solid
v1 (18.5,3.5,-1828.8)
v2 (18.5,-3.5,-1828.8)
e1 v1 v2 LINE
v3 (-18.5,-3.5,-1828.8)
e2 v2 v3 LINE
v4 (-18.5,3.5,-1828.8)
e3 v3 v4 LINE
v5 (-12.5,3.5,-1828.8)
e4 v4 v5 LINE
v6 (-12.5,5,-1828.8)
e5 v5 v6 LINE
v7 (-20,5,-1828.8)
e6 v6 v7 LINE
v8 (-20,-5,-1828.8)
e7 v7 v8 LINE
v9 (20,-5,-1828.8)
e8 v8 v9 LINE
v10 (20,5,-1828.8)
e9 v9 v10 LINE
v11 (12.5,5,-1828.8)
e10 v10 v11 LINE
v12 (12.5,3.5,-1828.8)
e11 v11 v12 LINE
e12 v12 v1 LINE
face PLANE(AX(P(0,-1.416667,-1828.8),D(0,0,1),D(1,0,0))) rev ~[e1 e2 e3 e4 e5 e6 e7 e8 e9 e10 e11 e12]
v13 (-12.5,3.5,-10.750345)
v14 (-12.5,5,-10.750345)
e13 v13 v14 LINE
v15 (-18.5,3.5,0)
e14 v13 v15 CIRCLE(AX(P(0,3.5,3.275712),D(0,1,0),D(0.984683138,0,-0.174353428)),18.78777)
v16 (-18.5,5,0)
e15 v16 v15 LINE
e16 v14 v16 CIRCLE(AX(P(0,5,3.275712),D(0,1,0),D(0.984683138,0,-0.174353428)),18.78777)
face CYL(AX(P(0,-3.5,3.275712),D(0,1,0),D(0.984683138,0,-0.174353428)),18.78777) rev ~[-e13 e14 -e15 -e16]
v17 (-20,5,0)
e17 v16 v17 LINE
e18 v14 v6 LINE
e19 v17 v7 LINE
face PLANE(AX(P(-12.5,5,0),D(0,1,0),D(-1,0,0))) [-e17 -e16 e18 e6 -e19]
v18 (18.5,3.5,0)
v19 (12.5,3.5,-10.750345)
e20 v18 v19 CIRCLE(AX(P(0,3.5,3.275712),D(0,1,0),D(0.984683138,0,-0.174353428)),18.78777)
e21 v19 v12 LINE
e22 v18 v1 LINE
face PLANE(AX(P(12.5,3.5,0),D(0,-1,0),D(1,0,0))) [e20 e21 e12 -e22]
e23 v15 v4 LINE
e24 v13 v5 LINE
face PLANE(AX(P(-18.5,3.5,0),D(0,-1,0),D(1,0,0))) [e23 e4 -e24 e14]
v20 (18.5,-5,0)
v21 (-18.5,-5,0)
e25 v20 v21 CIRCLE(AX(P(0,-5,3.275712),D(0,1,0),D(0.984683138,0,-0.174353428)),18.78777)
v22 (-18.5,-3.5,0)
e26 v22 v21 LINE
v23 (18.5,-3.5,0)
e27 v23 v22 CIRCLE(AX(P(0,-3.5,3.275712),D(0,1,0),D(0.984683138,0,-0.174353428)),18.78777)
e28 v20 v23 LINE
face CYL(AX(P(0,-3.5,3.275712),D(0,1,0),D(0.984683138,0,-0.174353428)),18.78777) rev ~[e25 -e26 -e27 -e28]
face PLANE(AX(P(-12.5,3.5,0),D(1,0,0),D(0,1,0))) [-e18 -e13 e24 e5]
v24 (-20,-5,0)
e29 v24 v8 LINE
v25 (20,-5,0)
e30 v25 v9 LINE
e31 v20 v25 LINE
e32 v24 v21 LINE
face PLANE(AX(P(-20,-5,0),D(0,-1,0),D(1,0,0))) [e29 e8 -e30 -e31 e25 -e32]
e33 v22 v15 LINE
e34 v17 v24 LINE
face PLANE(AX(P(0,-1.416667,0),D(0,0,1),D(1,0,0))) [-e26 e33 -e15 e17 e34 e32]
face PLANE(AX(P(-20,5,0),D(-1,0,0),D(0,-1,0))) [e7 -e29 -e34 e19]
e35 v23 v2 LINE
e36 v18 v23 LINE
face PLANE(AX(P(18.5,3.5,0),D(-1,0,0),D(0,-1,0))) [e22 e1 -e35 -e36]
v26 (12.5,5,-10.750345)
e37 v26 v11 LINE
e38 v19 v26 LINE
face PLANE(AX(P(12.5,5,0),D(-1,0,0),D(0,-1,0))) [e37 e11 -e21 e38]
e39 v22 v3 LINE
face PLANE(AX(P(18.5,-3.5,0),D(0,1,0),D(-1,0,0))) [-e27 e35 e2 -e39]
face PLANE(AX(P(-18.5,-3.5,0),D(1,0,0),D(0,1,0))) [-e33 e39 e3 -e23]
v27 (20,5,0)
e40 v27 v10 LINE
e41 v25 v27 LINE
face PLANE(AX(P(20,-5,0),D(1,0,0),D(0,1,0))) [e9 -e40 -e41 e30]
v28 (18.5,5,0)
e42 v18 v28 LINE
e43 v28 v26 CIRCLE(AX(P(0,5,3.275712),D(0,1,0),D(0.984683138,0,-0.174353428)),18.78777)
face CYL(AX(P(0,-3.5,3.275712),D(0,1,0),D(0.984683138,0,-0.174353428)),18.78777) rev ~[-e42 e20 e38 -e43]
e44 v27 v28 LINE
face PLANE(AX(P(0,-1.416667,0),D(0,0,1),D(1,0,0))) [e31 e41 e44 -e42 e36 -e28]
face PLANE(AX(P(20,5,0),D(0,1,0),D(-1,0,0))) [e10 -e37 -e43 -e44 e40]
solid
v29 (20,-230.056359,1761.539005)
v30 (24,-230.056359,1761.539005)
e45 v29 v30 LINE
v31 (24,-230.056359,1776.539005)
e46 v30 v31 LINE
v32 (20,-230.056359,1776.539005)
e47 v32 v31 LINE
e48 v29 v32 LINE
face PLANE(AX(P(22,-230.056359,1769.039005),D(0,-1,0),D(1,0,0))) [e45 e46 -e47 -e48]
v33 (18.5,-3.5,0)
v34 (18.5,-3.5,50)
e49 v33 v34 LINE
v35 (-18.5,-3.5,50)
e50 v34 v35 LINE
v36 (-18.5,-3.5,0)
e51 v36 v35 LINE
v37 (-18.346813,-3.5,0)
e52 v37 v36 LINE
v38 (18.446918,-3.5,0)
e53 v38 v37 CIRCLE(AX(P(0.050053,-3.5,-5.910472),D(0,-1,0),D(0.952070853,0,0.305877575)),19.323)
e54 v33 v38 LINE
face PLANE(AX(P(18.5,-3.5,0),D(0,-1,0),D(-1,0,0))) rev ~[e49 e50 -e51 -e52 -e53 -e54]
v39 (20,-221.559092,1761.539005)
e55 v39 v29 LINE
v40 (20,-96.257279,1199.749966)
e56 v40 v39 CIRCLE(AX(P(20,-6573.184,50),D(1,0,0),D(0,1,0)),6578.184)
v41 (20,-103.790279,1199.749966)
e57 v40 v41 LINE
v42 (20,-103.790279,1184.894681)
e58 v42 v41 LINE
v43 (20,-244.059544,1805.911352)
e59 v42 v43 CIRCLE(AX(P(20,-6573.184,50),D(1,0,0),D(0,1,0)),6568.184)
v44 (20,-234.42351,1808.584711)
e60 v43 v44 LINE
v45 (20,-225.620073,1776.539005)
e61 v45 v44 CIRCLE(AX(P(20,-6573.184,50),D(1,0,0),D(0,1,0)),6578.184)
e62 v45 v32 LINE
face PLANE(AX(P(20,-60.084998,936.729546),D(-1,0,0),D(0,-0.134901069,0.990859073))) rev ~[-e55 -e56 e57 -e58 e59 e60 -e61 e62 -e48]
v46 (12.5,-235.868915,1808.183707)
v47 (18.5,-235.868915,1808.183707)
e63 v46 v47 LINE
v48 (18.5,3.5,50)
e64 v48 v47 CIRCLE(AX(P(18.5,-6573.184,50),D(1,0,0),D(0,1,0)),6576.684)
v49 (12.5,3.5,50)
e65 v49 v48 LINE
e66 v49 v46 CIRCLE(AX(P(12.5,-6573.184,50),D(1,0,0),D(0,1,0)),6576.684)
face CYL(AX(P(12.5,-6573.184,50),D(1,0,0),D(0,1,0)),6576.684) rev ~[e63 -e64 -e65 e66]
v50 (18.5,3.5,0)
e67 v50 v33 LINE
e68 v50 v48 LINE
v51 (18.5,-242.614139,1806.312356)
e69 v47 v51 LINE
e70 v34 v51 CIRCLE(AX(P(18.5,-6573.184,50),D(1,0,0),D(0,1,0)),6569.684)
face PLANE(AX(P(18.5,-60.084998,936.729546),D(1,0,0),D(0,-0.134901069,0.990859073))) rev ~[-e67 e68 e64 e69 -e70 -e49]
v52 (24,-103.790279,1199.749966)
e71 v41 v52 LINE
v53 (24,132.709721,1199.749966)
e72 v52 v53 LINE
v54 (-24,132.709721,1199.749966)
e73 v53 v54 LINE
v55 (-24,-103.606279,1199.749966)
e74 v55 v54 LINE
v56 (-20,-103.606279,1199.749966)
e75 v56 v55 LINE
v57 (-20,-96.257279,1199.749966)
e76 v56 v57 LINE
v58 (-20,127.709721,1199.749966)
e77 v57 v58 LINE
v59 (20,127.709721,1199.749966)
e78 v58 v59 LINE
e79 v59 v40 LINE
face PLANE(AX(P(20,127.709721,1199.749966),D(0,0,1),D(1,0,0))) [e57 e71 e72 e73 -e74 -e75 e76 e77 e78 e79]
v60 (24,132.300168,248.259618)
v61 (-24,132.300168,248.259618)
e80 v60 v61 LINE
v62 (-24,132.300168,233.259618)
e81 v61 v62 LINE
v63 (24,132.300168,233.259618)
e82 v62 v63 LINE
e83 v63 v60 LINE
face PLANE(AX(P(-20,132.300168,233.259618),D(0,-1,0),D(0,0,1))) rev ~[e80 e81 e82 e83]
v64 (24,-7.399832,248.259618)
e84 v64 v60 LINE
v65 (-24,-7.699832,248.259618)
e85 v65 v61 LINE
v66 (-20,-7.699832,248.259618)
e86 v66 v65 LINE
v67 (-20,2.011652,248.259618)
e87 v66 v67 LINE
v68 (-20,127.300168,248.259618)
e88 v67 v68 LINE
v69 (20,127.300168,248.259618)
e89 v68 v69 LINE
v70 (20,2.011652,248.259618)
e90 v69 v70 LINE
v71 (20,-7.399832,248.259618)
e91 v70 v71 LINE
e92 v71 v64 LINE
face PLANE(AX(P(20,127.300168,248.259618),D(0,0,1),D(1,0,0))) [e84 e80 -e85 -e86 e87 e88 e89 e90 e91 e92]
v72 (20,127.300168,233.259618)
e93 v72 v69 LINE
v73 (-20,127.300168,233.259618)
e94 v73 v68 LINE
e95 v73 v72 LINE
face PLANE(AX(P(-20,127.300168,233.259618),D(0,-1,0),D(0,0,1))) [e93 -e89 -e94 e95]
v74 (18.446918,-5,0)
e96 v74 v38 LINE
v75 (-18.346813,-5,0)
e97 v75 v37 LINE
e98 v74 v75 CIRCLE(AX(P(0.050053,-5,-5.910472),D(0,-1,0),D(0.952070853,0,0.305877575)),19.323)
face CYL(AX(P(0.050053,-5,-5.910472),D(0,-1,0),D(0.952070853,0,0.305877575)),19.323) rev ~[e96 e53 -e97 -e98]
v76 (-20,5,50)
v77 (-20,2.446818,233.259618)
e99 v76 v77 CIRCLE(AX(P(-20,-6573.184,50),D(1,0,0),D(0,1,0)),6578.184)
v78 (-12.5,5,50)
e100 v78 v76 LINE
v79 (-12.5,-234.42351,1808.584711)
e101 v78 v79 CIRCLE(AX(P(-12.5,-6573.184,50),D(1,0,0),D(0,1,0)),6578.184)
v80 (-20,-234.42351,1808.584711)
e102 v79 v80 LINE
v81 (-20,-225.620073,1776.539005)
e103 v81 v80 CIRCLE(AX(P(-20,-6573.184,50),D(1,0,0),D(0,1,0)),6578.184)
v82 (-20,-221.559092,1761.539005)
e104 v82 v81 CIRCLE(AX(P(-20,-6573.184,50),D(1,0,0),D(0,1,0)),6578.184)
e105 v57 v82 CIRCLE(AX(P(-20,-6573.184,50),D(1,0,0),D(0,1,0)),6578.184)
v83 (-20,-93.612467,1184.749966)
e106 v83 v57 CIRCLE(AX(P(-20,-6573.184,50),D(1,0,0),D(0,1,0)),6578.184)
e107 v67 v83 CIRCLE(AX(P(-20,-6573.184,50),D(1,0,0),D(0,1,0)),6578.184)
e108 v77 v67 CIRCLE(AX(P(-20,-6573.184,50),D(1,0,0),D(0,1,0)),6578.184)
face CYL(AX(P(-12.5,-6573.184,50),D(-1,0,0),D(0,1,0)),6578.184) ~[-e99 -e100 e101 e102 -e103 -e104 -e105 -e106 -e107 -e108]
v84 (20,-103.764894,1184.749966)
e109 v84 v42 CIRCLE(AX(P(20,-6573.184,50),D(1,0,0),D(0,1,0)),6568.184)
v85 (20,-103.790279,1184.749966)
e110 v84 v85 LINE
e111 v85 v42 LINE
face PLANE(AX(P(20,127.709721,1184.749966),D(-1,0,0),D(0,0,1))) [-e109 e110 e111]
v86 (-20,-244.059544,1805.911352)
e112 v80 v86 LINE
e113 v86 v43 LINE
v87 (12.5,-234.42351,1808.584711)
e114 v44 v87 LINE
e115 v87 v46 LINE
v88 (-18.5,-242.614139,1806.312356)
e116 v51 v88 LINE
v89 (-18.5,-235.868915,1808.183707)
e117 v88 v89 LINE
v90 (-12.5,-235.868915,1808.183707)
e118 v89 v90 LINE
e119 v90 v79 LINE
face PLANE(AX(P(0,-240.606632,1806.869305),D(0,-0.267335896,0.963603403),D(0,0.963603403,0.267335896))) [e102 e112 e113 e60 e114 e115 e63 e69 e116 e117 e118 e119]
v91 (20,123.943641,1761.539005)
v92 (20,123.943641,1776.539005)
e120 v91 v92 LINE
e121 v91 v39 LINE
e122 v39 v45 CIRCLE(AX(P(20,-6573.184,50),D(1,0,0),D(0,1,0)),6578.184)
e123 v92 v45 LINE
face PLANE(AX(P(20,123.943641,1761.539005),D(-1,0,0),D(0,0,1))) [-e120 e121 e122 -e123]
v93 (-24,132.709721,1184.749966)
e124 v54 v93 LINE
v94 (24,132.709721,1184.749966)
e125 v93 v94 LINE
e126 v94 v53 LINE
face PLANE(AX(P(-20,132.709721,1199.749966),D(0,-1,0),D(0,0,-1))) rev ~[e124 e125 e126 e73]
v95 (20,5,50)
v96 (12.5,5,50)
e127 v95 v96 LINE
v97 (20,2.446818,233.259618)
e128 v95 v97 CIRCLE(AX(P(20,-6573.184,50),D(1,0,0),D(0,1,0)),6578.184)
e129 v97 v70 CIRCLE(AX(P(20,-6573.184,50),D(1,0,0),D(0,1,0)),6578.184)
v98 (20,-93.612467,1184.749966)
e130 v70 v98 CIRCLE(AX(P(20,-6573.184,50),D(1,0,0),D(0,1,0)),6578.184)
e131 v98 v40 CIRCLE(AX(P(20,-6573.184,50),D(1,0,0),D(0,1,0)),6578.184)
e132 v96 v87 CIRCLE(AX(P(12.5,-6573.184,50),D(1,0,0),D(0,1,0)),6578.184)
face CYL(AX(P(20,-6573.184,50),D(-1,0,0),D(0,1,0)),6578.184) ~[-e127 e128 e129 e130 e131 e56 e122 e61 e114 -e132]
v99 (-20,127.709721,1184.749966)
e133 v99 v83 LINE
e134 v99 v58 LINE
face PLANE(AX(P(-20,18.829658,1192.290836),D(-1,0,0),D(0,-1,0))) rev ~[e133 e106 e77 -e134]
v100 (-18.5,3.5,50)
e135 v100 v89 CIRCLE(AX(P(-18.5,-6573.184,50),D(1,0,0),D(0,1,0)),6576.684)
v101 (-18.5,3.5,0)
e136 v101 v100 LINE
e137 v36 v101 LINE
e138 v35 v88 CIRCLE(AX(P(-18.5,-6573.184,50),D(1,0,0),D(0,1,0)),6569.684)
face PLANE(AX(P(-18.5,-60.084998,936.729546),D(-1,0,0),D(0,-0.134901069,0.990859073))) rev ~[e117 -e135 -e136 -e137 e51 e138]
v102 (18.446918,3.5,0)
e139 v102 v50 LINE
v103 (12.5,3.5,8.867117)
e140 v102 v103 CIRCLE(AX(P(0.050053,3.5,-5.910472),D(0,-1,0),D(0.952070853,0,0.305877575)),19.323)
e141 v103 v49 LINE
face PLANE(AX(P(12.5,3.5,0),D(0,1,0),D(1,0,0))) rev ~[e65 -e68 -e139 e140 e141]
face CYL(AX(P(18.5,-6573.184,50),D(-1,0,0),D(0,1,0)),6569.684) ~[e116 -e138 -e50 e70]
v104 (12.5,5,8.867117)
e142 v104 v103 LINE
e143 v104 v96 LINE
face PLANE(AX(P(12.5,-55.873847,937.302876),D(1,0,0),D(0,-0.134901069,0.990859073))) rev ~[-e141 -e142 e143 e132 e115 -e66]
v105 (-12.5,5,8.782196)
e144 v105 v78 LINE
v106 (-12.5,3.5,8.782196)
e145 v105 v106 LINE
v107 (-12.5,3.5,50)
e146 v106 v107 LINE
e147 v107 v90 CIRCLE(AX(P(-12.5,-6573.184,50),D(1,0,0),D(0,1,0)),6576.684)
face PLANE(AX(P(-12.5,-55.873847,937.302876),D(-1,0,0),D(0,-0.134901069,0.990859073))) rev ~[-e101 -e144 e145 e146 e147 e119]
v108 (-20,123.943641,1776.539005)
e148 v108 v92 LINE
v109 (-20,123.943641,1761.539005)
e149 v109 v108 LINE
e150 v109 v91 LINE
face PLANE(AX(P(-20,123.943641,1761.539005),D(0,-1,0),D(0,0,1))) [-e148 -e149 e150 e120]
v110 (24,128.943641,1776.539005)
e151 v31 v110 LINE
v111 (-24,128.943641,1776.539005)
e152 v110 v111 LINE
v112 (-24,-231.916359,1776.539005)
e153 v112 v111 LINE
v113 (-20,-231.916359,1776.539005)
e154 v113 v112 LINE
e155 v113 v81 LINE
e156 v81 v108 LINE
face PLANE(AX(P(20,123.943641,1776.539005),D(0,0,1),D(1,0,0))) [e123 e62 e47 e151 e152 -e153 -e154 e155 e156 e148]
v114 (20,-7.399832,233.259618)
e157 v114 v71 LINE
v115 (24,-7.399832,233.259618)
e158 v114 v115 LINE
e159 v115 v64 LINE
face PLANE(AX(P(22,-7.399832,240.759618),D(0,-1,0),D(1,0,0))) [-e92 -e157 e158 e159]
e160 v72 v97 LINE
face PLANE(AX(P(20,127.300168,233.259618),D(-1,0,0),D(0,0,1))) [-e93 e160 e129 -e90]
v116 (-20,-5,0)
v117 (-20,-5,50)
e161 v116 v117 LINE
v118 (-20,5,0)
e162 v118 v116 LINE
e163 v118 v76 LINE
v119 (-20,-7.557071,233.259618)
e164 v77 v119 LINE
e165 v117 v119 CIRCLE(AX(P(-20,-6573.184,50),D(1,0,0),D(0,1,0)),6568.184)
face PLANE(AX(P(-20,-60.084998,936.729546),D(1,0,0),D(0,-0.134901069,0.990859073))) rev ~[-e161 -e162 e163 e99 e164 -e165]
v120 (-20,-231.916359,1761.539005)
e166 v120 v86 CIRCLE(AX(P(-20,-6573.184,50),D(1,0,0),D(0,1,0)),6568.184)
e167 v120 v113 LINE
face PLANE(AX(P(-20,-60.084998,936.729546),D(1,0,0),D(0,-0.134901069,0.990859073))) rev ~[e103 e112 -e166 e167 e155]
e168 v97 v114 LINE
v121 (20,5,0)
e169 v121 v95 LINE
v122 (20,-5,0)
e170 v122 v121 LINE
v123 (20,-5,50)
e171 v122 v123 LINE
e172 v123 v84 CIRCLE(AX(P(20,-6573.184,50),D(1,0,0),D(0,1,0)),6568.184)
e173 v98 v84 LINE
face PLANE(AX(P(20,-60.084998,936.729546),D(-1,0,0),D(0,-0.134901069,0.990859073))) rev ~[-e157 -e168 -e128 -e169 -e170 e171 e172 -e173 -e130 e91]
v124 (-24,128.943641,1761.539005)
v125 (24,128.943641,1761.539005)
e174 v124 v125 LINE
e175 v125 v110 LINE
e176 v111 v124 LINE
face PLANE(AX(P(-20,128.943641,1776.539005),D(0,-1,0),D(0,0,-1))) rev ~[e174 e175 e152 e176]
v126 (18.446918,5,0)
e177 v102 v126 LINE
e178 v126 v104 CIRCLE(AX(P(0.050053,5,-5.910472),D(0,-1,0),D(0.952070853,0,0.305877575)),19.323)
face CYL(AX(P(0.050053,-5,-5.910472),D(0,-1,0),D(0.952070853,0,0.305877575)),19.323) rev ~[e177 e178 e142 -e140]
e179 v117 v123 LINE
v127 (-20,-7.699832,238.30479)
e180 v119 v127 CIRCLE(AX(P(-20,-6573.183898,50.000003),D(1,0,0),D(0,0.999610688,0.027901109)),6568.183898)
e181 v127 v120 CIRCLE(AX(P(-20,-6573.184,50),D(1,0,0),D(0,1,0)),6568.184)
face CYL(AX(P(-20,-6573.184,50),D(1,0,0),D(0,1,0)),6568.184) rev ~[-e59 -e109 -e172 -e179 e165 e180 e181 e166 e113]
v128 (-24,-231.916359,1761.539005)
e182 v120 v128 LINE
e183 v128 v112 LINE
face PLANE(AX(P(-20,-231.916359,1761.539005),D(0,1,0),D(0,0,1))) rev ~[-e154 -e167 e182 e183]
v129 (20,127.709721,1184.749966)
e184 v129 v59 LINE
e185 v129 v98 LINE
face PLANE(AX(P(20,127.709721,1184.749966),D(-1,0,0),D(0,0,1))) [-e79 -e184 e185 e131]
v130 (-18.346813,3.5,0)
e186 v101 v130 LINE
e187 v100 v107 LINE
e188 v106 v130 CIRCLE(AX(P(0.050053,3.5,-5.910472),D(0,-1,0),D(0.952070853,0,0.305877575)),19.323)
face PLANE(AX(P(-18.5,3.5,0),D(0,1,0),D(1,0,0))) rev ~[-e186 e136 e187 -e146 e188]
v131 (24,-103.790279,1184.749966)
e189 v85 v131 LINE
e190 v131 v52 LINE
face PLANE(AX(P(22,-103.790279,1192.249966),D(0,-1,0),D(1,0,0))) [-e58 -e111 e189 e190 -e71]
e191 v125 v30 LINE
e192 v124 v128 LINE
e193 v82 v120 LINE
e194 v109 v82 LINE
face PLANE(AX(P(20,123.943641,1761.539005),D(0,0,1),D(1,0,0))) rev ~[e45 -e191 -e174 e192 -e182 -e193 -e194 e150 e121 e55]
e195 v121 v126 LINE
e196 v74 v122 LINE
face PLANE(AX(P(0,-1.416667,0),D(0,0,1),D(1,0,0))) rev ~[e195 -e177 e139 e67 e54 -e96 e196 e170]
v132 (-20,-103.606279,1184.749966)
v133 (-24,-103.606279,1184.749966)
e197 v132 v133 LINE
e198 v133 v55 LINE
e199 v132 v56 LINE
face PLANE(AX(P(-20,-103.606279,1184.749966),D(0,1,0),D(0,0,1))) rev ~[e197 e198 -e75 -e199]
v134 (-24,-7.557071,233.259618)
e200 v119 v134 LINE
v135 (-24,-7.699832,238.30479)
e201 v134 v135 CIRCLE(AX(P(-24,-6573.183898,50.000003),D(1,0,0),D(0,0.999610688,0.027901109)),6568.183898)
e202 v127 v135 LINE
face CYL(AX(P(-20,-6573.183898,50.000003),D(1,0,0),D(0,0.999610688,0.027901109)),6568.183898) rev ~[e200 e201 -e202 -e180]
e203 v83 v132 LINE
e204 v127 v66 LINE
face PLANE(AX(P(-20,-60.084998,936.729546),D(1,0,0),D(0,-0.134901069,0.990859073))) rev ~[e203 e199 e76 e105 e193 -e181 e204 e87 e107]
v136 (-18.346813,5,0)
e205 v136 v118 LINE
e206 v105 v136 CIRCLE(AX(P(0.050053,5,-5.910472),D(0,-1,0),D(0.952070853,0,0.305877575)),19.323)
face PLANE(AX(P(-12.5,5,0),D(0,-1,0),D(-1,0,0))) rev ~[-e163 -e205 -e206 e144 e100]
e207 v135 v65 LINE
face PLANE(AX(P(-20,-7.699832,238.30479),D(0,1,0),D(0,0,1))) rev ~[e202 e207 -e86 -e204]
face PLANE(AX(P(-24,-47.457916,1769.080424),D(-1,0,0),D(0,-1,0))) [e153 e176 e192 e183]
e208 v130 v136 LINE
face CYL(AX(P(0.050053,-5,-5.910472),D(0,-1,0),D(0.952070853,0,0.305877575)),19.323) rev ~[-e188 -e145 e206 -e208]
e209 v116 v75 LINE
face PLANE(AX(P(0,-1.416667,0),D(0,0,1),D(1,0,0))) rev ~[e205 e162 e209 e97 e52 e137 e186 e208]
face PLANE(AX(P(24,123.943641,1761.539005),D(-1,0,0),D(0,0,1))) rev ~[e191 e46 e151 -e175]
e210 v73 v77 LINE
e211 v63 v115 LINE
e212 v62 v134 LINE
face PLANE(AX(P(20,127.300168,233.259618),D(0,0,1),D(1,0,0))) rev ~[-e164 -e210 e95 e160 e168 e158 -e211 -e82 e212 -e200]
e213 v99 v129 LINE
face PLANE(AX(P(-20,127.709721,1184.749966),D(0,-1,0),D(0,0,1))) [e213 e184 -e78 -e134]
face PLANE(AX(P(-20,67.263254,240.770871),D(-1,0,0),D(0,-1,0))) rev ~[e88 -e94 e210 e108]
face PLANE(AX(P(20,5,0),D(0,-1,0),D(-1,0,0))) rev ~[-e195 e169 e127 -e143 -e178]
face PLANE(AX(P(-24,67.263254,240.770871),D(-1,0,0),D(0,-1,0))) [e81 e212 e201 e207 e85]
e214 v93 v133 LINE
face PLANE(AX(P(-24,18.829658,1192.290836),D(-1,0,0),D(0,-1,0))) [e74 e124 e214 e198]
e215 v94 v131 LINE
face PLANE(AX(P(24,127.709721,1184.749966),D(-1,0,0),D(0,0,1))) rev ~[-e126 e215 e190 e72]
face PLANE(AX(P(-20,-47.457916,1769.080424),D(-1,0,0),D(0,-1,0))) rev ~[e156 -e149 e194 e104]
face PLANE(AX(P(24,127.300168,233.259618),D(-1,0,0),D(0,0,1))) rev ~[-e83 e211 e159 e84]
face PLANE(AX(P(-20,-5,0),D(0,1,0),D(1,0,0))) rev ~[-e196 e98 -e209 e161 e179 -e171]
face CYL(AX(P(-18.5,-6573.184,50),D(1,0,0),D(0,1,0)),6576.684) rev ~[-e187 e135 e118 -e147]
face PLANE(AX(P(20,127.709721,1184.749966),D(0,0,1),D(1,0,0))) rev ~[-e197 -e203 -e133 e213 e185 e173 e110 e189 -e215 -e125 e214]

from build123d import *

# Parameters (mm, degrees)
F1_DEPTH  = 1828.8
F3_DEPTH  = 12.5
F4_DEPTH  = 50
F8_DEPTH  = 25
F9_W      = 7.349
F9_H      = 15
F10_DEPTH = 4
F11_W     = 5
F11_H     = 15
F12_DEPTH = 44
F13_W     = 4
F13_H     = 15
F14_DEPTH = 354
F15_W     = 4
F15_H     = 15
F16_DEPTH = 134.7
F17_W     = 4
F17_H     = 15
F18_DEPTH = 231.5


with BuildPart() as f1:
    # F0 (on Top) → F1 (new body)
    with BuildSketch(Plane.XY):
        Polygon((-18.5, -3.5), (-18.5, 3.5), (-12.5, 3.5), (-12.5, 5), (-20, 5), (-20, -5), (20, -5), (20, 5), (12.5, 5), (12.5, 3.5), (18.5, 3.5), (18.5, -3.5), align=None)
    extrude(amount=-F1_DEPTH)

    # F2 (on face) → F3 (cut, symmetric)
    with BuildSketch(Plane(origin=(0, -3.5, 0), x_dir=(-1, 0, 0), z_dir=(0, 1, 0))):
        with BuildLine():
            Line((18.5, 0), (-18.5, 0))
            ThreePointArc((-18.5, 0), (0, -15.5120576256), (18.5, 0))
        make_face()
    extrude(amount=F3_DEPTH, both=True, mode=Mode.SUBTRACT)


with BuildPart() as f4:
    # F0 (on Top) → F4 (new body)
    with BuildSketch(Plane.XY):
        Polygon((-18.5, -3.5), (-18.5, 3.5), (-12.5, 3.5), (-12.5, 5), (-20, 5), (-20, -5), (20, -5), (20, 5), (12.5, 5), (12.5, 3.5), (18.5, 3.5), (18.5, -3.5), align=None)
    extrude(amount=F4_DEPTH)

    # F6: sweep along a path in F5
    with BuildLine(Plane.YZ.offset(20)) as f6_path:
        ThreePointArc((-5, 50), (-65.0392933555, 936.0550407457), (-244.0595437737, 1805.911351821))
    # F4_face1 (on face) → F6 (sweep)
    with BuildSketch(Plane(origin=(0, -1.5398550725, 50), x_dir=(1, 0, 0), z_dir=(0, 0, 1))):
        Polygon((-18.5, -1.9601449275), (-18.5, 5.0398550725), (-12.5, 5.0398550725), (-12.5, 6.5398550725), (-20, 6.5398550725), (-20, -3.4601449275), (20, -3.4601449275), (20, 6.5398550725), (12.5, 6.5398550725), (12.5, 5.0398550725), (18.5, 5.0398550725), (18.5, -1.9601449275), align=None)
    sweep(path=f6_path.line)

    # F7 (on face) → F8 (cut)
    with BuildSketch(Plane.XZ.offset(5)):
        with BuildLine():
            Line((-18.3468125761, 0), (18.4469176068, 0))
            ThreePointArc((18.4469176068, 0), (0.0500525154, 13.4125276155), (-18.3468125761, 0))
        make_face()
    extrude(amount=-F8_DEPTH, mode=Mode.SUBTRACT)

    # F9 (on face) → F10 (join)
    with BuildSketch(Plane(origin=(-20, 0, 0), x_dir=(0, -1, 0), z_dir=(-1, 0, 0))):
        with BuildLine():
            ThreePointArc((-2.4468176602, 233.2596182823), (-2.2335121088, 240.7597423711), (-2.0116519646, 248.2596182823))
            Line((-2.0116519646, 248.2596182823), (-132.3001682758, 248.2596182823))
            Line((-132.3001682758, 248.2596182823), (-132.3001682758, 233.2596182823))
            Line((-132.3001682758, 233.2596182823), (-2.4468176602, 233.2596182823))
        make_face()
        with BuildLine():
            Line((-132.7097213071, 1184.7499661554), (93.6124669304, 1184.7499661554))
            ThreePointArc((93.6124669304, 1184.7499661555), (94.9305313623, 1192.2507316432), (96.2572786929, 1199.7499661554))
            Line((96.2572786929, 1199.7499661554), (-132.7097213071, 1199.7499661554))
            Line((-132.7097213071, 1199.7499661554), (-132.7097213071, 1184.7499661554))
        make_face()
        with BuildLine():
            Line((-128.9436408437, 1761.5390048271), (221.5590919303, 1761.5390048271))
            ThreePointArc((221.5590919303, 1761.5390048271), (223.5851532345, 1769.040204012), (225.6200733691, 1776.5390048272))
            Line((225.6200733691, 1776.5390048271), (-128.9436408437, 1776.5390048271))
            Line((-128.9436408437, 1776.5390048271), (-128.9436408437, 1761.5390048271))
        make_face()
        with BuildLine():
            Line((7.6998317242, 238.3047901022), (7.6998317242, 248.2596182823))
            Line((7.6998317242, 248.2596182823), (-2.0116519646, 248.2596182823))
            ThreePointArc((-2.0116519646, 248.2596182823), (-2.2335121088, 240.7597423711), (-2.4468176602, 233.2596182823))
            Line((-2.4468176602, 233.2596182823), (7.5570710493, 233.2596182823))
            ThreePointArc((7.5570710493, 233.2596182823), (7.6279667789, 235.782217905), (7.6998317242, 238.3047901022))
        make_face()
        with BuildLine():
            ThreePointArc((96.2572786929, 1199.7499661554), (94.9305313623, 1192.2507316432), (93.6124669304, 1184.7499661555))
            Line((93.6124669304, 1184.7499661554), (96.2572786929, 1184.7499661554))
            Line((96.2572786929, 1184.7499661554), (96.2572786929, 1199.7499661554))
        make_face()
        with BuildLine():
            Line((221.5590919303, 1761.5390048271), (231.9163591563, 1761.5390048271))
            Line((231.9163591563, 1761.5390048271), (231.9163591563, 1776.5390048271))
            Line((231.9163591563, 1776.5390048271), (225.6200733691, 1776.5390048271))
            ThreePointArc((225.6200733691, 1776.5390048272), (223.5851532345, 1769.040204012), (221.5590919303, 1761.5390048271))
        make_face()
        with Locations((99.9317786929, 1192.2499661554)):
            Rectangle(F9_W, F9_H)
    extrude(amount=F10_DEPTH)

    # F11 (on face) → F12 (join)
    with BuildSketch(Plane.YZ.offset(-20)):
        with Locations((129.8001682758, 240.7596182823)):
            Rectangle(F11_W, F11_H)
        with Locations((130.2097213071, 1192.2499661554)):
            Rectangle(F11_W, F11_H)
        with Locations((126.4436408437, 1769.0390048271)):
            Rectangle(F11_W, F11_H)
    extrude(amount=F12_DEPTH)

    # F13 (on face) → F14 (join)
    with BuildSketch(Plane.XZ.offset(-123.9436408437)):
        with Locations((22, 1769.0390048271)):
            Rectangle(F13_W, F13_H)
    extrude(amount=F14_DEPTH)

    # F15 (on face) → F16 (join)
    with BuildSketch(Plane.XZ.offset(-127.3001682758)):
        with Locations((22, 240.7596182823)):
            Rectangle(F15_W, F15_H)
    extrude(amount=F16_DEPTH)

    # F17 (on face) → F18 (join)
    with BuildSketch(Plane.XZ.offset(-127.7097213071)):
        with Locations((22, 1192.2499661554)):
            Rectangle(F17_W, F17_H)
    extrude(amount=F18_DEPTH)


solid = Compound([f1.part, f4.part])
